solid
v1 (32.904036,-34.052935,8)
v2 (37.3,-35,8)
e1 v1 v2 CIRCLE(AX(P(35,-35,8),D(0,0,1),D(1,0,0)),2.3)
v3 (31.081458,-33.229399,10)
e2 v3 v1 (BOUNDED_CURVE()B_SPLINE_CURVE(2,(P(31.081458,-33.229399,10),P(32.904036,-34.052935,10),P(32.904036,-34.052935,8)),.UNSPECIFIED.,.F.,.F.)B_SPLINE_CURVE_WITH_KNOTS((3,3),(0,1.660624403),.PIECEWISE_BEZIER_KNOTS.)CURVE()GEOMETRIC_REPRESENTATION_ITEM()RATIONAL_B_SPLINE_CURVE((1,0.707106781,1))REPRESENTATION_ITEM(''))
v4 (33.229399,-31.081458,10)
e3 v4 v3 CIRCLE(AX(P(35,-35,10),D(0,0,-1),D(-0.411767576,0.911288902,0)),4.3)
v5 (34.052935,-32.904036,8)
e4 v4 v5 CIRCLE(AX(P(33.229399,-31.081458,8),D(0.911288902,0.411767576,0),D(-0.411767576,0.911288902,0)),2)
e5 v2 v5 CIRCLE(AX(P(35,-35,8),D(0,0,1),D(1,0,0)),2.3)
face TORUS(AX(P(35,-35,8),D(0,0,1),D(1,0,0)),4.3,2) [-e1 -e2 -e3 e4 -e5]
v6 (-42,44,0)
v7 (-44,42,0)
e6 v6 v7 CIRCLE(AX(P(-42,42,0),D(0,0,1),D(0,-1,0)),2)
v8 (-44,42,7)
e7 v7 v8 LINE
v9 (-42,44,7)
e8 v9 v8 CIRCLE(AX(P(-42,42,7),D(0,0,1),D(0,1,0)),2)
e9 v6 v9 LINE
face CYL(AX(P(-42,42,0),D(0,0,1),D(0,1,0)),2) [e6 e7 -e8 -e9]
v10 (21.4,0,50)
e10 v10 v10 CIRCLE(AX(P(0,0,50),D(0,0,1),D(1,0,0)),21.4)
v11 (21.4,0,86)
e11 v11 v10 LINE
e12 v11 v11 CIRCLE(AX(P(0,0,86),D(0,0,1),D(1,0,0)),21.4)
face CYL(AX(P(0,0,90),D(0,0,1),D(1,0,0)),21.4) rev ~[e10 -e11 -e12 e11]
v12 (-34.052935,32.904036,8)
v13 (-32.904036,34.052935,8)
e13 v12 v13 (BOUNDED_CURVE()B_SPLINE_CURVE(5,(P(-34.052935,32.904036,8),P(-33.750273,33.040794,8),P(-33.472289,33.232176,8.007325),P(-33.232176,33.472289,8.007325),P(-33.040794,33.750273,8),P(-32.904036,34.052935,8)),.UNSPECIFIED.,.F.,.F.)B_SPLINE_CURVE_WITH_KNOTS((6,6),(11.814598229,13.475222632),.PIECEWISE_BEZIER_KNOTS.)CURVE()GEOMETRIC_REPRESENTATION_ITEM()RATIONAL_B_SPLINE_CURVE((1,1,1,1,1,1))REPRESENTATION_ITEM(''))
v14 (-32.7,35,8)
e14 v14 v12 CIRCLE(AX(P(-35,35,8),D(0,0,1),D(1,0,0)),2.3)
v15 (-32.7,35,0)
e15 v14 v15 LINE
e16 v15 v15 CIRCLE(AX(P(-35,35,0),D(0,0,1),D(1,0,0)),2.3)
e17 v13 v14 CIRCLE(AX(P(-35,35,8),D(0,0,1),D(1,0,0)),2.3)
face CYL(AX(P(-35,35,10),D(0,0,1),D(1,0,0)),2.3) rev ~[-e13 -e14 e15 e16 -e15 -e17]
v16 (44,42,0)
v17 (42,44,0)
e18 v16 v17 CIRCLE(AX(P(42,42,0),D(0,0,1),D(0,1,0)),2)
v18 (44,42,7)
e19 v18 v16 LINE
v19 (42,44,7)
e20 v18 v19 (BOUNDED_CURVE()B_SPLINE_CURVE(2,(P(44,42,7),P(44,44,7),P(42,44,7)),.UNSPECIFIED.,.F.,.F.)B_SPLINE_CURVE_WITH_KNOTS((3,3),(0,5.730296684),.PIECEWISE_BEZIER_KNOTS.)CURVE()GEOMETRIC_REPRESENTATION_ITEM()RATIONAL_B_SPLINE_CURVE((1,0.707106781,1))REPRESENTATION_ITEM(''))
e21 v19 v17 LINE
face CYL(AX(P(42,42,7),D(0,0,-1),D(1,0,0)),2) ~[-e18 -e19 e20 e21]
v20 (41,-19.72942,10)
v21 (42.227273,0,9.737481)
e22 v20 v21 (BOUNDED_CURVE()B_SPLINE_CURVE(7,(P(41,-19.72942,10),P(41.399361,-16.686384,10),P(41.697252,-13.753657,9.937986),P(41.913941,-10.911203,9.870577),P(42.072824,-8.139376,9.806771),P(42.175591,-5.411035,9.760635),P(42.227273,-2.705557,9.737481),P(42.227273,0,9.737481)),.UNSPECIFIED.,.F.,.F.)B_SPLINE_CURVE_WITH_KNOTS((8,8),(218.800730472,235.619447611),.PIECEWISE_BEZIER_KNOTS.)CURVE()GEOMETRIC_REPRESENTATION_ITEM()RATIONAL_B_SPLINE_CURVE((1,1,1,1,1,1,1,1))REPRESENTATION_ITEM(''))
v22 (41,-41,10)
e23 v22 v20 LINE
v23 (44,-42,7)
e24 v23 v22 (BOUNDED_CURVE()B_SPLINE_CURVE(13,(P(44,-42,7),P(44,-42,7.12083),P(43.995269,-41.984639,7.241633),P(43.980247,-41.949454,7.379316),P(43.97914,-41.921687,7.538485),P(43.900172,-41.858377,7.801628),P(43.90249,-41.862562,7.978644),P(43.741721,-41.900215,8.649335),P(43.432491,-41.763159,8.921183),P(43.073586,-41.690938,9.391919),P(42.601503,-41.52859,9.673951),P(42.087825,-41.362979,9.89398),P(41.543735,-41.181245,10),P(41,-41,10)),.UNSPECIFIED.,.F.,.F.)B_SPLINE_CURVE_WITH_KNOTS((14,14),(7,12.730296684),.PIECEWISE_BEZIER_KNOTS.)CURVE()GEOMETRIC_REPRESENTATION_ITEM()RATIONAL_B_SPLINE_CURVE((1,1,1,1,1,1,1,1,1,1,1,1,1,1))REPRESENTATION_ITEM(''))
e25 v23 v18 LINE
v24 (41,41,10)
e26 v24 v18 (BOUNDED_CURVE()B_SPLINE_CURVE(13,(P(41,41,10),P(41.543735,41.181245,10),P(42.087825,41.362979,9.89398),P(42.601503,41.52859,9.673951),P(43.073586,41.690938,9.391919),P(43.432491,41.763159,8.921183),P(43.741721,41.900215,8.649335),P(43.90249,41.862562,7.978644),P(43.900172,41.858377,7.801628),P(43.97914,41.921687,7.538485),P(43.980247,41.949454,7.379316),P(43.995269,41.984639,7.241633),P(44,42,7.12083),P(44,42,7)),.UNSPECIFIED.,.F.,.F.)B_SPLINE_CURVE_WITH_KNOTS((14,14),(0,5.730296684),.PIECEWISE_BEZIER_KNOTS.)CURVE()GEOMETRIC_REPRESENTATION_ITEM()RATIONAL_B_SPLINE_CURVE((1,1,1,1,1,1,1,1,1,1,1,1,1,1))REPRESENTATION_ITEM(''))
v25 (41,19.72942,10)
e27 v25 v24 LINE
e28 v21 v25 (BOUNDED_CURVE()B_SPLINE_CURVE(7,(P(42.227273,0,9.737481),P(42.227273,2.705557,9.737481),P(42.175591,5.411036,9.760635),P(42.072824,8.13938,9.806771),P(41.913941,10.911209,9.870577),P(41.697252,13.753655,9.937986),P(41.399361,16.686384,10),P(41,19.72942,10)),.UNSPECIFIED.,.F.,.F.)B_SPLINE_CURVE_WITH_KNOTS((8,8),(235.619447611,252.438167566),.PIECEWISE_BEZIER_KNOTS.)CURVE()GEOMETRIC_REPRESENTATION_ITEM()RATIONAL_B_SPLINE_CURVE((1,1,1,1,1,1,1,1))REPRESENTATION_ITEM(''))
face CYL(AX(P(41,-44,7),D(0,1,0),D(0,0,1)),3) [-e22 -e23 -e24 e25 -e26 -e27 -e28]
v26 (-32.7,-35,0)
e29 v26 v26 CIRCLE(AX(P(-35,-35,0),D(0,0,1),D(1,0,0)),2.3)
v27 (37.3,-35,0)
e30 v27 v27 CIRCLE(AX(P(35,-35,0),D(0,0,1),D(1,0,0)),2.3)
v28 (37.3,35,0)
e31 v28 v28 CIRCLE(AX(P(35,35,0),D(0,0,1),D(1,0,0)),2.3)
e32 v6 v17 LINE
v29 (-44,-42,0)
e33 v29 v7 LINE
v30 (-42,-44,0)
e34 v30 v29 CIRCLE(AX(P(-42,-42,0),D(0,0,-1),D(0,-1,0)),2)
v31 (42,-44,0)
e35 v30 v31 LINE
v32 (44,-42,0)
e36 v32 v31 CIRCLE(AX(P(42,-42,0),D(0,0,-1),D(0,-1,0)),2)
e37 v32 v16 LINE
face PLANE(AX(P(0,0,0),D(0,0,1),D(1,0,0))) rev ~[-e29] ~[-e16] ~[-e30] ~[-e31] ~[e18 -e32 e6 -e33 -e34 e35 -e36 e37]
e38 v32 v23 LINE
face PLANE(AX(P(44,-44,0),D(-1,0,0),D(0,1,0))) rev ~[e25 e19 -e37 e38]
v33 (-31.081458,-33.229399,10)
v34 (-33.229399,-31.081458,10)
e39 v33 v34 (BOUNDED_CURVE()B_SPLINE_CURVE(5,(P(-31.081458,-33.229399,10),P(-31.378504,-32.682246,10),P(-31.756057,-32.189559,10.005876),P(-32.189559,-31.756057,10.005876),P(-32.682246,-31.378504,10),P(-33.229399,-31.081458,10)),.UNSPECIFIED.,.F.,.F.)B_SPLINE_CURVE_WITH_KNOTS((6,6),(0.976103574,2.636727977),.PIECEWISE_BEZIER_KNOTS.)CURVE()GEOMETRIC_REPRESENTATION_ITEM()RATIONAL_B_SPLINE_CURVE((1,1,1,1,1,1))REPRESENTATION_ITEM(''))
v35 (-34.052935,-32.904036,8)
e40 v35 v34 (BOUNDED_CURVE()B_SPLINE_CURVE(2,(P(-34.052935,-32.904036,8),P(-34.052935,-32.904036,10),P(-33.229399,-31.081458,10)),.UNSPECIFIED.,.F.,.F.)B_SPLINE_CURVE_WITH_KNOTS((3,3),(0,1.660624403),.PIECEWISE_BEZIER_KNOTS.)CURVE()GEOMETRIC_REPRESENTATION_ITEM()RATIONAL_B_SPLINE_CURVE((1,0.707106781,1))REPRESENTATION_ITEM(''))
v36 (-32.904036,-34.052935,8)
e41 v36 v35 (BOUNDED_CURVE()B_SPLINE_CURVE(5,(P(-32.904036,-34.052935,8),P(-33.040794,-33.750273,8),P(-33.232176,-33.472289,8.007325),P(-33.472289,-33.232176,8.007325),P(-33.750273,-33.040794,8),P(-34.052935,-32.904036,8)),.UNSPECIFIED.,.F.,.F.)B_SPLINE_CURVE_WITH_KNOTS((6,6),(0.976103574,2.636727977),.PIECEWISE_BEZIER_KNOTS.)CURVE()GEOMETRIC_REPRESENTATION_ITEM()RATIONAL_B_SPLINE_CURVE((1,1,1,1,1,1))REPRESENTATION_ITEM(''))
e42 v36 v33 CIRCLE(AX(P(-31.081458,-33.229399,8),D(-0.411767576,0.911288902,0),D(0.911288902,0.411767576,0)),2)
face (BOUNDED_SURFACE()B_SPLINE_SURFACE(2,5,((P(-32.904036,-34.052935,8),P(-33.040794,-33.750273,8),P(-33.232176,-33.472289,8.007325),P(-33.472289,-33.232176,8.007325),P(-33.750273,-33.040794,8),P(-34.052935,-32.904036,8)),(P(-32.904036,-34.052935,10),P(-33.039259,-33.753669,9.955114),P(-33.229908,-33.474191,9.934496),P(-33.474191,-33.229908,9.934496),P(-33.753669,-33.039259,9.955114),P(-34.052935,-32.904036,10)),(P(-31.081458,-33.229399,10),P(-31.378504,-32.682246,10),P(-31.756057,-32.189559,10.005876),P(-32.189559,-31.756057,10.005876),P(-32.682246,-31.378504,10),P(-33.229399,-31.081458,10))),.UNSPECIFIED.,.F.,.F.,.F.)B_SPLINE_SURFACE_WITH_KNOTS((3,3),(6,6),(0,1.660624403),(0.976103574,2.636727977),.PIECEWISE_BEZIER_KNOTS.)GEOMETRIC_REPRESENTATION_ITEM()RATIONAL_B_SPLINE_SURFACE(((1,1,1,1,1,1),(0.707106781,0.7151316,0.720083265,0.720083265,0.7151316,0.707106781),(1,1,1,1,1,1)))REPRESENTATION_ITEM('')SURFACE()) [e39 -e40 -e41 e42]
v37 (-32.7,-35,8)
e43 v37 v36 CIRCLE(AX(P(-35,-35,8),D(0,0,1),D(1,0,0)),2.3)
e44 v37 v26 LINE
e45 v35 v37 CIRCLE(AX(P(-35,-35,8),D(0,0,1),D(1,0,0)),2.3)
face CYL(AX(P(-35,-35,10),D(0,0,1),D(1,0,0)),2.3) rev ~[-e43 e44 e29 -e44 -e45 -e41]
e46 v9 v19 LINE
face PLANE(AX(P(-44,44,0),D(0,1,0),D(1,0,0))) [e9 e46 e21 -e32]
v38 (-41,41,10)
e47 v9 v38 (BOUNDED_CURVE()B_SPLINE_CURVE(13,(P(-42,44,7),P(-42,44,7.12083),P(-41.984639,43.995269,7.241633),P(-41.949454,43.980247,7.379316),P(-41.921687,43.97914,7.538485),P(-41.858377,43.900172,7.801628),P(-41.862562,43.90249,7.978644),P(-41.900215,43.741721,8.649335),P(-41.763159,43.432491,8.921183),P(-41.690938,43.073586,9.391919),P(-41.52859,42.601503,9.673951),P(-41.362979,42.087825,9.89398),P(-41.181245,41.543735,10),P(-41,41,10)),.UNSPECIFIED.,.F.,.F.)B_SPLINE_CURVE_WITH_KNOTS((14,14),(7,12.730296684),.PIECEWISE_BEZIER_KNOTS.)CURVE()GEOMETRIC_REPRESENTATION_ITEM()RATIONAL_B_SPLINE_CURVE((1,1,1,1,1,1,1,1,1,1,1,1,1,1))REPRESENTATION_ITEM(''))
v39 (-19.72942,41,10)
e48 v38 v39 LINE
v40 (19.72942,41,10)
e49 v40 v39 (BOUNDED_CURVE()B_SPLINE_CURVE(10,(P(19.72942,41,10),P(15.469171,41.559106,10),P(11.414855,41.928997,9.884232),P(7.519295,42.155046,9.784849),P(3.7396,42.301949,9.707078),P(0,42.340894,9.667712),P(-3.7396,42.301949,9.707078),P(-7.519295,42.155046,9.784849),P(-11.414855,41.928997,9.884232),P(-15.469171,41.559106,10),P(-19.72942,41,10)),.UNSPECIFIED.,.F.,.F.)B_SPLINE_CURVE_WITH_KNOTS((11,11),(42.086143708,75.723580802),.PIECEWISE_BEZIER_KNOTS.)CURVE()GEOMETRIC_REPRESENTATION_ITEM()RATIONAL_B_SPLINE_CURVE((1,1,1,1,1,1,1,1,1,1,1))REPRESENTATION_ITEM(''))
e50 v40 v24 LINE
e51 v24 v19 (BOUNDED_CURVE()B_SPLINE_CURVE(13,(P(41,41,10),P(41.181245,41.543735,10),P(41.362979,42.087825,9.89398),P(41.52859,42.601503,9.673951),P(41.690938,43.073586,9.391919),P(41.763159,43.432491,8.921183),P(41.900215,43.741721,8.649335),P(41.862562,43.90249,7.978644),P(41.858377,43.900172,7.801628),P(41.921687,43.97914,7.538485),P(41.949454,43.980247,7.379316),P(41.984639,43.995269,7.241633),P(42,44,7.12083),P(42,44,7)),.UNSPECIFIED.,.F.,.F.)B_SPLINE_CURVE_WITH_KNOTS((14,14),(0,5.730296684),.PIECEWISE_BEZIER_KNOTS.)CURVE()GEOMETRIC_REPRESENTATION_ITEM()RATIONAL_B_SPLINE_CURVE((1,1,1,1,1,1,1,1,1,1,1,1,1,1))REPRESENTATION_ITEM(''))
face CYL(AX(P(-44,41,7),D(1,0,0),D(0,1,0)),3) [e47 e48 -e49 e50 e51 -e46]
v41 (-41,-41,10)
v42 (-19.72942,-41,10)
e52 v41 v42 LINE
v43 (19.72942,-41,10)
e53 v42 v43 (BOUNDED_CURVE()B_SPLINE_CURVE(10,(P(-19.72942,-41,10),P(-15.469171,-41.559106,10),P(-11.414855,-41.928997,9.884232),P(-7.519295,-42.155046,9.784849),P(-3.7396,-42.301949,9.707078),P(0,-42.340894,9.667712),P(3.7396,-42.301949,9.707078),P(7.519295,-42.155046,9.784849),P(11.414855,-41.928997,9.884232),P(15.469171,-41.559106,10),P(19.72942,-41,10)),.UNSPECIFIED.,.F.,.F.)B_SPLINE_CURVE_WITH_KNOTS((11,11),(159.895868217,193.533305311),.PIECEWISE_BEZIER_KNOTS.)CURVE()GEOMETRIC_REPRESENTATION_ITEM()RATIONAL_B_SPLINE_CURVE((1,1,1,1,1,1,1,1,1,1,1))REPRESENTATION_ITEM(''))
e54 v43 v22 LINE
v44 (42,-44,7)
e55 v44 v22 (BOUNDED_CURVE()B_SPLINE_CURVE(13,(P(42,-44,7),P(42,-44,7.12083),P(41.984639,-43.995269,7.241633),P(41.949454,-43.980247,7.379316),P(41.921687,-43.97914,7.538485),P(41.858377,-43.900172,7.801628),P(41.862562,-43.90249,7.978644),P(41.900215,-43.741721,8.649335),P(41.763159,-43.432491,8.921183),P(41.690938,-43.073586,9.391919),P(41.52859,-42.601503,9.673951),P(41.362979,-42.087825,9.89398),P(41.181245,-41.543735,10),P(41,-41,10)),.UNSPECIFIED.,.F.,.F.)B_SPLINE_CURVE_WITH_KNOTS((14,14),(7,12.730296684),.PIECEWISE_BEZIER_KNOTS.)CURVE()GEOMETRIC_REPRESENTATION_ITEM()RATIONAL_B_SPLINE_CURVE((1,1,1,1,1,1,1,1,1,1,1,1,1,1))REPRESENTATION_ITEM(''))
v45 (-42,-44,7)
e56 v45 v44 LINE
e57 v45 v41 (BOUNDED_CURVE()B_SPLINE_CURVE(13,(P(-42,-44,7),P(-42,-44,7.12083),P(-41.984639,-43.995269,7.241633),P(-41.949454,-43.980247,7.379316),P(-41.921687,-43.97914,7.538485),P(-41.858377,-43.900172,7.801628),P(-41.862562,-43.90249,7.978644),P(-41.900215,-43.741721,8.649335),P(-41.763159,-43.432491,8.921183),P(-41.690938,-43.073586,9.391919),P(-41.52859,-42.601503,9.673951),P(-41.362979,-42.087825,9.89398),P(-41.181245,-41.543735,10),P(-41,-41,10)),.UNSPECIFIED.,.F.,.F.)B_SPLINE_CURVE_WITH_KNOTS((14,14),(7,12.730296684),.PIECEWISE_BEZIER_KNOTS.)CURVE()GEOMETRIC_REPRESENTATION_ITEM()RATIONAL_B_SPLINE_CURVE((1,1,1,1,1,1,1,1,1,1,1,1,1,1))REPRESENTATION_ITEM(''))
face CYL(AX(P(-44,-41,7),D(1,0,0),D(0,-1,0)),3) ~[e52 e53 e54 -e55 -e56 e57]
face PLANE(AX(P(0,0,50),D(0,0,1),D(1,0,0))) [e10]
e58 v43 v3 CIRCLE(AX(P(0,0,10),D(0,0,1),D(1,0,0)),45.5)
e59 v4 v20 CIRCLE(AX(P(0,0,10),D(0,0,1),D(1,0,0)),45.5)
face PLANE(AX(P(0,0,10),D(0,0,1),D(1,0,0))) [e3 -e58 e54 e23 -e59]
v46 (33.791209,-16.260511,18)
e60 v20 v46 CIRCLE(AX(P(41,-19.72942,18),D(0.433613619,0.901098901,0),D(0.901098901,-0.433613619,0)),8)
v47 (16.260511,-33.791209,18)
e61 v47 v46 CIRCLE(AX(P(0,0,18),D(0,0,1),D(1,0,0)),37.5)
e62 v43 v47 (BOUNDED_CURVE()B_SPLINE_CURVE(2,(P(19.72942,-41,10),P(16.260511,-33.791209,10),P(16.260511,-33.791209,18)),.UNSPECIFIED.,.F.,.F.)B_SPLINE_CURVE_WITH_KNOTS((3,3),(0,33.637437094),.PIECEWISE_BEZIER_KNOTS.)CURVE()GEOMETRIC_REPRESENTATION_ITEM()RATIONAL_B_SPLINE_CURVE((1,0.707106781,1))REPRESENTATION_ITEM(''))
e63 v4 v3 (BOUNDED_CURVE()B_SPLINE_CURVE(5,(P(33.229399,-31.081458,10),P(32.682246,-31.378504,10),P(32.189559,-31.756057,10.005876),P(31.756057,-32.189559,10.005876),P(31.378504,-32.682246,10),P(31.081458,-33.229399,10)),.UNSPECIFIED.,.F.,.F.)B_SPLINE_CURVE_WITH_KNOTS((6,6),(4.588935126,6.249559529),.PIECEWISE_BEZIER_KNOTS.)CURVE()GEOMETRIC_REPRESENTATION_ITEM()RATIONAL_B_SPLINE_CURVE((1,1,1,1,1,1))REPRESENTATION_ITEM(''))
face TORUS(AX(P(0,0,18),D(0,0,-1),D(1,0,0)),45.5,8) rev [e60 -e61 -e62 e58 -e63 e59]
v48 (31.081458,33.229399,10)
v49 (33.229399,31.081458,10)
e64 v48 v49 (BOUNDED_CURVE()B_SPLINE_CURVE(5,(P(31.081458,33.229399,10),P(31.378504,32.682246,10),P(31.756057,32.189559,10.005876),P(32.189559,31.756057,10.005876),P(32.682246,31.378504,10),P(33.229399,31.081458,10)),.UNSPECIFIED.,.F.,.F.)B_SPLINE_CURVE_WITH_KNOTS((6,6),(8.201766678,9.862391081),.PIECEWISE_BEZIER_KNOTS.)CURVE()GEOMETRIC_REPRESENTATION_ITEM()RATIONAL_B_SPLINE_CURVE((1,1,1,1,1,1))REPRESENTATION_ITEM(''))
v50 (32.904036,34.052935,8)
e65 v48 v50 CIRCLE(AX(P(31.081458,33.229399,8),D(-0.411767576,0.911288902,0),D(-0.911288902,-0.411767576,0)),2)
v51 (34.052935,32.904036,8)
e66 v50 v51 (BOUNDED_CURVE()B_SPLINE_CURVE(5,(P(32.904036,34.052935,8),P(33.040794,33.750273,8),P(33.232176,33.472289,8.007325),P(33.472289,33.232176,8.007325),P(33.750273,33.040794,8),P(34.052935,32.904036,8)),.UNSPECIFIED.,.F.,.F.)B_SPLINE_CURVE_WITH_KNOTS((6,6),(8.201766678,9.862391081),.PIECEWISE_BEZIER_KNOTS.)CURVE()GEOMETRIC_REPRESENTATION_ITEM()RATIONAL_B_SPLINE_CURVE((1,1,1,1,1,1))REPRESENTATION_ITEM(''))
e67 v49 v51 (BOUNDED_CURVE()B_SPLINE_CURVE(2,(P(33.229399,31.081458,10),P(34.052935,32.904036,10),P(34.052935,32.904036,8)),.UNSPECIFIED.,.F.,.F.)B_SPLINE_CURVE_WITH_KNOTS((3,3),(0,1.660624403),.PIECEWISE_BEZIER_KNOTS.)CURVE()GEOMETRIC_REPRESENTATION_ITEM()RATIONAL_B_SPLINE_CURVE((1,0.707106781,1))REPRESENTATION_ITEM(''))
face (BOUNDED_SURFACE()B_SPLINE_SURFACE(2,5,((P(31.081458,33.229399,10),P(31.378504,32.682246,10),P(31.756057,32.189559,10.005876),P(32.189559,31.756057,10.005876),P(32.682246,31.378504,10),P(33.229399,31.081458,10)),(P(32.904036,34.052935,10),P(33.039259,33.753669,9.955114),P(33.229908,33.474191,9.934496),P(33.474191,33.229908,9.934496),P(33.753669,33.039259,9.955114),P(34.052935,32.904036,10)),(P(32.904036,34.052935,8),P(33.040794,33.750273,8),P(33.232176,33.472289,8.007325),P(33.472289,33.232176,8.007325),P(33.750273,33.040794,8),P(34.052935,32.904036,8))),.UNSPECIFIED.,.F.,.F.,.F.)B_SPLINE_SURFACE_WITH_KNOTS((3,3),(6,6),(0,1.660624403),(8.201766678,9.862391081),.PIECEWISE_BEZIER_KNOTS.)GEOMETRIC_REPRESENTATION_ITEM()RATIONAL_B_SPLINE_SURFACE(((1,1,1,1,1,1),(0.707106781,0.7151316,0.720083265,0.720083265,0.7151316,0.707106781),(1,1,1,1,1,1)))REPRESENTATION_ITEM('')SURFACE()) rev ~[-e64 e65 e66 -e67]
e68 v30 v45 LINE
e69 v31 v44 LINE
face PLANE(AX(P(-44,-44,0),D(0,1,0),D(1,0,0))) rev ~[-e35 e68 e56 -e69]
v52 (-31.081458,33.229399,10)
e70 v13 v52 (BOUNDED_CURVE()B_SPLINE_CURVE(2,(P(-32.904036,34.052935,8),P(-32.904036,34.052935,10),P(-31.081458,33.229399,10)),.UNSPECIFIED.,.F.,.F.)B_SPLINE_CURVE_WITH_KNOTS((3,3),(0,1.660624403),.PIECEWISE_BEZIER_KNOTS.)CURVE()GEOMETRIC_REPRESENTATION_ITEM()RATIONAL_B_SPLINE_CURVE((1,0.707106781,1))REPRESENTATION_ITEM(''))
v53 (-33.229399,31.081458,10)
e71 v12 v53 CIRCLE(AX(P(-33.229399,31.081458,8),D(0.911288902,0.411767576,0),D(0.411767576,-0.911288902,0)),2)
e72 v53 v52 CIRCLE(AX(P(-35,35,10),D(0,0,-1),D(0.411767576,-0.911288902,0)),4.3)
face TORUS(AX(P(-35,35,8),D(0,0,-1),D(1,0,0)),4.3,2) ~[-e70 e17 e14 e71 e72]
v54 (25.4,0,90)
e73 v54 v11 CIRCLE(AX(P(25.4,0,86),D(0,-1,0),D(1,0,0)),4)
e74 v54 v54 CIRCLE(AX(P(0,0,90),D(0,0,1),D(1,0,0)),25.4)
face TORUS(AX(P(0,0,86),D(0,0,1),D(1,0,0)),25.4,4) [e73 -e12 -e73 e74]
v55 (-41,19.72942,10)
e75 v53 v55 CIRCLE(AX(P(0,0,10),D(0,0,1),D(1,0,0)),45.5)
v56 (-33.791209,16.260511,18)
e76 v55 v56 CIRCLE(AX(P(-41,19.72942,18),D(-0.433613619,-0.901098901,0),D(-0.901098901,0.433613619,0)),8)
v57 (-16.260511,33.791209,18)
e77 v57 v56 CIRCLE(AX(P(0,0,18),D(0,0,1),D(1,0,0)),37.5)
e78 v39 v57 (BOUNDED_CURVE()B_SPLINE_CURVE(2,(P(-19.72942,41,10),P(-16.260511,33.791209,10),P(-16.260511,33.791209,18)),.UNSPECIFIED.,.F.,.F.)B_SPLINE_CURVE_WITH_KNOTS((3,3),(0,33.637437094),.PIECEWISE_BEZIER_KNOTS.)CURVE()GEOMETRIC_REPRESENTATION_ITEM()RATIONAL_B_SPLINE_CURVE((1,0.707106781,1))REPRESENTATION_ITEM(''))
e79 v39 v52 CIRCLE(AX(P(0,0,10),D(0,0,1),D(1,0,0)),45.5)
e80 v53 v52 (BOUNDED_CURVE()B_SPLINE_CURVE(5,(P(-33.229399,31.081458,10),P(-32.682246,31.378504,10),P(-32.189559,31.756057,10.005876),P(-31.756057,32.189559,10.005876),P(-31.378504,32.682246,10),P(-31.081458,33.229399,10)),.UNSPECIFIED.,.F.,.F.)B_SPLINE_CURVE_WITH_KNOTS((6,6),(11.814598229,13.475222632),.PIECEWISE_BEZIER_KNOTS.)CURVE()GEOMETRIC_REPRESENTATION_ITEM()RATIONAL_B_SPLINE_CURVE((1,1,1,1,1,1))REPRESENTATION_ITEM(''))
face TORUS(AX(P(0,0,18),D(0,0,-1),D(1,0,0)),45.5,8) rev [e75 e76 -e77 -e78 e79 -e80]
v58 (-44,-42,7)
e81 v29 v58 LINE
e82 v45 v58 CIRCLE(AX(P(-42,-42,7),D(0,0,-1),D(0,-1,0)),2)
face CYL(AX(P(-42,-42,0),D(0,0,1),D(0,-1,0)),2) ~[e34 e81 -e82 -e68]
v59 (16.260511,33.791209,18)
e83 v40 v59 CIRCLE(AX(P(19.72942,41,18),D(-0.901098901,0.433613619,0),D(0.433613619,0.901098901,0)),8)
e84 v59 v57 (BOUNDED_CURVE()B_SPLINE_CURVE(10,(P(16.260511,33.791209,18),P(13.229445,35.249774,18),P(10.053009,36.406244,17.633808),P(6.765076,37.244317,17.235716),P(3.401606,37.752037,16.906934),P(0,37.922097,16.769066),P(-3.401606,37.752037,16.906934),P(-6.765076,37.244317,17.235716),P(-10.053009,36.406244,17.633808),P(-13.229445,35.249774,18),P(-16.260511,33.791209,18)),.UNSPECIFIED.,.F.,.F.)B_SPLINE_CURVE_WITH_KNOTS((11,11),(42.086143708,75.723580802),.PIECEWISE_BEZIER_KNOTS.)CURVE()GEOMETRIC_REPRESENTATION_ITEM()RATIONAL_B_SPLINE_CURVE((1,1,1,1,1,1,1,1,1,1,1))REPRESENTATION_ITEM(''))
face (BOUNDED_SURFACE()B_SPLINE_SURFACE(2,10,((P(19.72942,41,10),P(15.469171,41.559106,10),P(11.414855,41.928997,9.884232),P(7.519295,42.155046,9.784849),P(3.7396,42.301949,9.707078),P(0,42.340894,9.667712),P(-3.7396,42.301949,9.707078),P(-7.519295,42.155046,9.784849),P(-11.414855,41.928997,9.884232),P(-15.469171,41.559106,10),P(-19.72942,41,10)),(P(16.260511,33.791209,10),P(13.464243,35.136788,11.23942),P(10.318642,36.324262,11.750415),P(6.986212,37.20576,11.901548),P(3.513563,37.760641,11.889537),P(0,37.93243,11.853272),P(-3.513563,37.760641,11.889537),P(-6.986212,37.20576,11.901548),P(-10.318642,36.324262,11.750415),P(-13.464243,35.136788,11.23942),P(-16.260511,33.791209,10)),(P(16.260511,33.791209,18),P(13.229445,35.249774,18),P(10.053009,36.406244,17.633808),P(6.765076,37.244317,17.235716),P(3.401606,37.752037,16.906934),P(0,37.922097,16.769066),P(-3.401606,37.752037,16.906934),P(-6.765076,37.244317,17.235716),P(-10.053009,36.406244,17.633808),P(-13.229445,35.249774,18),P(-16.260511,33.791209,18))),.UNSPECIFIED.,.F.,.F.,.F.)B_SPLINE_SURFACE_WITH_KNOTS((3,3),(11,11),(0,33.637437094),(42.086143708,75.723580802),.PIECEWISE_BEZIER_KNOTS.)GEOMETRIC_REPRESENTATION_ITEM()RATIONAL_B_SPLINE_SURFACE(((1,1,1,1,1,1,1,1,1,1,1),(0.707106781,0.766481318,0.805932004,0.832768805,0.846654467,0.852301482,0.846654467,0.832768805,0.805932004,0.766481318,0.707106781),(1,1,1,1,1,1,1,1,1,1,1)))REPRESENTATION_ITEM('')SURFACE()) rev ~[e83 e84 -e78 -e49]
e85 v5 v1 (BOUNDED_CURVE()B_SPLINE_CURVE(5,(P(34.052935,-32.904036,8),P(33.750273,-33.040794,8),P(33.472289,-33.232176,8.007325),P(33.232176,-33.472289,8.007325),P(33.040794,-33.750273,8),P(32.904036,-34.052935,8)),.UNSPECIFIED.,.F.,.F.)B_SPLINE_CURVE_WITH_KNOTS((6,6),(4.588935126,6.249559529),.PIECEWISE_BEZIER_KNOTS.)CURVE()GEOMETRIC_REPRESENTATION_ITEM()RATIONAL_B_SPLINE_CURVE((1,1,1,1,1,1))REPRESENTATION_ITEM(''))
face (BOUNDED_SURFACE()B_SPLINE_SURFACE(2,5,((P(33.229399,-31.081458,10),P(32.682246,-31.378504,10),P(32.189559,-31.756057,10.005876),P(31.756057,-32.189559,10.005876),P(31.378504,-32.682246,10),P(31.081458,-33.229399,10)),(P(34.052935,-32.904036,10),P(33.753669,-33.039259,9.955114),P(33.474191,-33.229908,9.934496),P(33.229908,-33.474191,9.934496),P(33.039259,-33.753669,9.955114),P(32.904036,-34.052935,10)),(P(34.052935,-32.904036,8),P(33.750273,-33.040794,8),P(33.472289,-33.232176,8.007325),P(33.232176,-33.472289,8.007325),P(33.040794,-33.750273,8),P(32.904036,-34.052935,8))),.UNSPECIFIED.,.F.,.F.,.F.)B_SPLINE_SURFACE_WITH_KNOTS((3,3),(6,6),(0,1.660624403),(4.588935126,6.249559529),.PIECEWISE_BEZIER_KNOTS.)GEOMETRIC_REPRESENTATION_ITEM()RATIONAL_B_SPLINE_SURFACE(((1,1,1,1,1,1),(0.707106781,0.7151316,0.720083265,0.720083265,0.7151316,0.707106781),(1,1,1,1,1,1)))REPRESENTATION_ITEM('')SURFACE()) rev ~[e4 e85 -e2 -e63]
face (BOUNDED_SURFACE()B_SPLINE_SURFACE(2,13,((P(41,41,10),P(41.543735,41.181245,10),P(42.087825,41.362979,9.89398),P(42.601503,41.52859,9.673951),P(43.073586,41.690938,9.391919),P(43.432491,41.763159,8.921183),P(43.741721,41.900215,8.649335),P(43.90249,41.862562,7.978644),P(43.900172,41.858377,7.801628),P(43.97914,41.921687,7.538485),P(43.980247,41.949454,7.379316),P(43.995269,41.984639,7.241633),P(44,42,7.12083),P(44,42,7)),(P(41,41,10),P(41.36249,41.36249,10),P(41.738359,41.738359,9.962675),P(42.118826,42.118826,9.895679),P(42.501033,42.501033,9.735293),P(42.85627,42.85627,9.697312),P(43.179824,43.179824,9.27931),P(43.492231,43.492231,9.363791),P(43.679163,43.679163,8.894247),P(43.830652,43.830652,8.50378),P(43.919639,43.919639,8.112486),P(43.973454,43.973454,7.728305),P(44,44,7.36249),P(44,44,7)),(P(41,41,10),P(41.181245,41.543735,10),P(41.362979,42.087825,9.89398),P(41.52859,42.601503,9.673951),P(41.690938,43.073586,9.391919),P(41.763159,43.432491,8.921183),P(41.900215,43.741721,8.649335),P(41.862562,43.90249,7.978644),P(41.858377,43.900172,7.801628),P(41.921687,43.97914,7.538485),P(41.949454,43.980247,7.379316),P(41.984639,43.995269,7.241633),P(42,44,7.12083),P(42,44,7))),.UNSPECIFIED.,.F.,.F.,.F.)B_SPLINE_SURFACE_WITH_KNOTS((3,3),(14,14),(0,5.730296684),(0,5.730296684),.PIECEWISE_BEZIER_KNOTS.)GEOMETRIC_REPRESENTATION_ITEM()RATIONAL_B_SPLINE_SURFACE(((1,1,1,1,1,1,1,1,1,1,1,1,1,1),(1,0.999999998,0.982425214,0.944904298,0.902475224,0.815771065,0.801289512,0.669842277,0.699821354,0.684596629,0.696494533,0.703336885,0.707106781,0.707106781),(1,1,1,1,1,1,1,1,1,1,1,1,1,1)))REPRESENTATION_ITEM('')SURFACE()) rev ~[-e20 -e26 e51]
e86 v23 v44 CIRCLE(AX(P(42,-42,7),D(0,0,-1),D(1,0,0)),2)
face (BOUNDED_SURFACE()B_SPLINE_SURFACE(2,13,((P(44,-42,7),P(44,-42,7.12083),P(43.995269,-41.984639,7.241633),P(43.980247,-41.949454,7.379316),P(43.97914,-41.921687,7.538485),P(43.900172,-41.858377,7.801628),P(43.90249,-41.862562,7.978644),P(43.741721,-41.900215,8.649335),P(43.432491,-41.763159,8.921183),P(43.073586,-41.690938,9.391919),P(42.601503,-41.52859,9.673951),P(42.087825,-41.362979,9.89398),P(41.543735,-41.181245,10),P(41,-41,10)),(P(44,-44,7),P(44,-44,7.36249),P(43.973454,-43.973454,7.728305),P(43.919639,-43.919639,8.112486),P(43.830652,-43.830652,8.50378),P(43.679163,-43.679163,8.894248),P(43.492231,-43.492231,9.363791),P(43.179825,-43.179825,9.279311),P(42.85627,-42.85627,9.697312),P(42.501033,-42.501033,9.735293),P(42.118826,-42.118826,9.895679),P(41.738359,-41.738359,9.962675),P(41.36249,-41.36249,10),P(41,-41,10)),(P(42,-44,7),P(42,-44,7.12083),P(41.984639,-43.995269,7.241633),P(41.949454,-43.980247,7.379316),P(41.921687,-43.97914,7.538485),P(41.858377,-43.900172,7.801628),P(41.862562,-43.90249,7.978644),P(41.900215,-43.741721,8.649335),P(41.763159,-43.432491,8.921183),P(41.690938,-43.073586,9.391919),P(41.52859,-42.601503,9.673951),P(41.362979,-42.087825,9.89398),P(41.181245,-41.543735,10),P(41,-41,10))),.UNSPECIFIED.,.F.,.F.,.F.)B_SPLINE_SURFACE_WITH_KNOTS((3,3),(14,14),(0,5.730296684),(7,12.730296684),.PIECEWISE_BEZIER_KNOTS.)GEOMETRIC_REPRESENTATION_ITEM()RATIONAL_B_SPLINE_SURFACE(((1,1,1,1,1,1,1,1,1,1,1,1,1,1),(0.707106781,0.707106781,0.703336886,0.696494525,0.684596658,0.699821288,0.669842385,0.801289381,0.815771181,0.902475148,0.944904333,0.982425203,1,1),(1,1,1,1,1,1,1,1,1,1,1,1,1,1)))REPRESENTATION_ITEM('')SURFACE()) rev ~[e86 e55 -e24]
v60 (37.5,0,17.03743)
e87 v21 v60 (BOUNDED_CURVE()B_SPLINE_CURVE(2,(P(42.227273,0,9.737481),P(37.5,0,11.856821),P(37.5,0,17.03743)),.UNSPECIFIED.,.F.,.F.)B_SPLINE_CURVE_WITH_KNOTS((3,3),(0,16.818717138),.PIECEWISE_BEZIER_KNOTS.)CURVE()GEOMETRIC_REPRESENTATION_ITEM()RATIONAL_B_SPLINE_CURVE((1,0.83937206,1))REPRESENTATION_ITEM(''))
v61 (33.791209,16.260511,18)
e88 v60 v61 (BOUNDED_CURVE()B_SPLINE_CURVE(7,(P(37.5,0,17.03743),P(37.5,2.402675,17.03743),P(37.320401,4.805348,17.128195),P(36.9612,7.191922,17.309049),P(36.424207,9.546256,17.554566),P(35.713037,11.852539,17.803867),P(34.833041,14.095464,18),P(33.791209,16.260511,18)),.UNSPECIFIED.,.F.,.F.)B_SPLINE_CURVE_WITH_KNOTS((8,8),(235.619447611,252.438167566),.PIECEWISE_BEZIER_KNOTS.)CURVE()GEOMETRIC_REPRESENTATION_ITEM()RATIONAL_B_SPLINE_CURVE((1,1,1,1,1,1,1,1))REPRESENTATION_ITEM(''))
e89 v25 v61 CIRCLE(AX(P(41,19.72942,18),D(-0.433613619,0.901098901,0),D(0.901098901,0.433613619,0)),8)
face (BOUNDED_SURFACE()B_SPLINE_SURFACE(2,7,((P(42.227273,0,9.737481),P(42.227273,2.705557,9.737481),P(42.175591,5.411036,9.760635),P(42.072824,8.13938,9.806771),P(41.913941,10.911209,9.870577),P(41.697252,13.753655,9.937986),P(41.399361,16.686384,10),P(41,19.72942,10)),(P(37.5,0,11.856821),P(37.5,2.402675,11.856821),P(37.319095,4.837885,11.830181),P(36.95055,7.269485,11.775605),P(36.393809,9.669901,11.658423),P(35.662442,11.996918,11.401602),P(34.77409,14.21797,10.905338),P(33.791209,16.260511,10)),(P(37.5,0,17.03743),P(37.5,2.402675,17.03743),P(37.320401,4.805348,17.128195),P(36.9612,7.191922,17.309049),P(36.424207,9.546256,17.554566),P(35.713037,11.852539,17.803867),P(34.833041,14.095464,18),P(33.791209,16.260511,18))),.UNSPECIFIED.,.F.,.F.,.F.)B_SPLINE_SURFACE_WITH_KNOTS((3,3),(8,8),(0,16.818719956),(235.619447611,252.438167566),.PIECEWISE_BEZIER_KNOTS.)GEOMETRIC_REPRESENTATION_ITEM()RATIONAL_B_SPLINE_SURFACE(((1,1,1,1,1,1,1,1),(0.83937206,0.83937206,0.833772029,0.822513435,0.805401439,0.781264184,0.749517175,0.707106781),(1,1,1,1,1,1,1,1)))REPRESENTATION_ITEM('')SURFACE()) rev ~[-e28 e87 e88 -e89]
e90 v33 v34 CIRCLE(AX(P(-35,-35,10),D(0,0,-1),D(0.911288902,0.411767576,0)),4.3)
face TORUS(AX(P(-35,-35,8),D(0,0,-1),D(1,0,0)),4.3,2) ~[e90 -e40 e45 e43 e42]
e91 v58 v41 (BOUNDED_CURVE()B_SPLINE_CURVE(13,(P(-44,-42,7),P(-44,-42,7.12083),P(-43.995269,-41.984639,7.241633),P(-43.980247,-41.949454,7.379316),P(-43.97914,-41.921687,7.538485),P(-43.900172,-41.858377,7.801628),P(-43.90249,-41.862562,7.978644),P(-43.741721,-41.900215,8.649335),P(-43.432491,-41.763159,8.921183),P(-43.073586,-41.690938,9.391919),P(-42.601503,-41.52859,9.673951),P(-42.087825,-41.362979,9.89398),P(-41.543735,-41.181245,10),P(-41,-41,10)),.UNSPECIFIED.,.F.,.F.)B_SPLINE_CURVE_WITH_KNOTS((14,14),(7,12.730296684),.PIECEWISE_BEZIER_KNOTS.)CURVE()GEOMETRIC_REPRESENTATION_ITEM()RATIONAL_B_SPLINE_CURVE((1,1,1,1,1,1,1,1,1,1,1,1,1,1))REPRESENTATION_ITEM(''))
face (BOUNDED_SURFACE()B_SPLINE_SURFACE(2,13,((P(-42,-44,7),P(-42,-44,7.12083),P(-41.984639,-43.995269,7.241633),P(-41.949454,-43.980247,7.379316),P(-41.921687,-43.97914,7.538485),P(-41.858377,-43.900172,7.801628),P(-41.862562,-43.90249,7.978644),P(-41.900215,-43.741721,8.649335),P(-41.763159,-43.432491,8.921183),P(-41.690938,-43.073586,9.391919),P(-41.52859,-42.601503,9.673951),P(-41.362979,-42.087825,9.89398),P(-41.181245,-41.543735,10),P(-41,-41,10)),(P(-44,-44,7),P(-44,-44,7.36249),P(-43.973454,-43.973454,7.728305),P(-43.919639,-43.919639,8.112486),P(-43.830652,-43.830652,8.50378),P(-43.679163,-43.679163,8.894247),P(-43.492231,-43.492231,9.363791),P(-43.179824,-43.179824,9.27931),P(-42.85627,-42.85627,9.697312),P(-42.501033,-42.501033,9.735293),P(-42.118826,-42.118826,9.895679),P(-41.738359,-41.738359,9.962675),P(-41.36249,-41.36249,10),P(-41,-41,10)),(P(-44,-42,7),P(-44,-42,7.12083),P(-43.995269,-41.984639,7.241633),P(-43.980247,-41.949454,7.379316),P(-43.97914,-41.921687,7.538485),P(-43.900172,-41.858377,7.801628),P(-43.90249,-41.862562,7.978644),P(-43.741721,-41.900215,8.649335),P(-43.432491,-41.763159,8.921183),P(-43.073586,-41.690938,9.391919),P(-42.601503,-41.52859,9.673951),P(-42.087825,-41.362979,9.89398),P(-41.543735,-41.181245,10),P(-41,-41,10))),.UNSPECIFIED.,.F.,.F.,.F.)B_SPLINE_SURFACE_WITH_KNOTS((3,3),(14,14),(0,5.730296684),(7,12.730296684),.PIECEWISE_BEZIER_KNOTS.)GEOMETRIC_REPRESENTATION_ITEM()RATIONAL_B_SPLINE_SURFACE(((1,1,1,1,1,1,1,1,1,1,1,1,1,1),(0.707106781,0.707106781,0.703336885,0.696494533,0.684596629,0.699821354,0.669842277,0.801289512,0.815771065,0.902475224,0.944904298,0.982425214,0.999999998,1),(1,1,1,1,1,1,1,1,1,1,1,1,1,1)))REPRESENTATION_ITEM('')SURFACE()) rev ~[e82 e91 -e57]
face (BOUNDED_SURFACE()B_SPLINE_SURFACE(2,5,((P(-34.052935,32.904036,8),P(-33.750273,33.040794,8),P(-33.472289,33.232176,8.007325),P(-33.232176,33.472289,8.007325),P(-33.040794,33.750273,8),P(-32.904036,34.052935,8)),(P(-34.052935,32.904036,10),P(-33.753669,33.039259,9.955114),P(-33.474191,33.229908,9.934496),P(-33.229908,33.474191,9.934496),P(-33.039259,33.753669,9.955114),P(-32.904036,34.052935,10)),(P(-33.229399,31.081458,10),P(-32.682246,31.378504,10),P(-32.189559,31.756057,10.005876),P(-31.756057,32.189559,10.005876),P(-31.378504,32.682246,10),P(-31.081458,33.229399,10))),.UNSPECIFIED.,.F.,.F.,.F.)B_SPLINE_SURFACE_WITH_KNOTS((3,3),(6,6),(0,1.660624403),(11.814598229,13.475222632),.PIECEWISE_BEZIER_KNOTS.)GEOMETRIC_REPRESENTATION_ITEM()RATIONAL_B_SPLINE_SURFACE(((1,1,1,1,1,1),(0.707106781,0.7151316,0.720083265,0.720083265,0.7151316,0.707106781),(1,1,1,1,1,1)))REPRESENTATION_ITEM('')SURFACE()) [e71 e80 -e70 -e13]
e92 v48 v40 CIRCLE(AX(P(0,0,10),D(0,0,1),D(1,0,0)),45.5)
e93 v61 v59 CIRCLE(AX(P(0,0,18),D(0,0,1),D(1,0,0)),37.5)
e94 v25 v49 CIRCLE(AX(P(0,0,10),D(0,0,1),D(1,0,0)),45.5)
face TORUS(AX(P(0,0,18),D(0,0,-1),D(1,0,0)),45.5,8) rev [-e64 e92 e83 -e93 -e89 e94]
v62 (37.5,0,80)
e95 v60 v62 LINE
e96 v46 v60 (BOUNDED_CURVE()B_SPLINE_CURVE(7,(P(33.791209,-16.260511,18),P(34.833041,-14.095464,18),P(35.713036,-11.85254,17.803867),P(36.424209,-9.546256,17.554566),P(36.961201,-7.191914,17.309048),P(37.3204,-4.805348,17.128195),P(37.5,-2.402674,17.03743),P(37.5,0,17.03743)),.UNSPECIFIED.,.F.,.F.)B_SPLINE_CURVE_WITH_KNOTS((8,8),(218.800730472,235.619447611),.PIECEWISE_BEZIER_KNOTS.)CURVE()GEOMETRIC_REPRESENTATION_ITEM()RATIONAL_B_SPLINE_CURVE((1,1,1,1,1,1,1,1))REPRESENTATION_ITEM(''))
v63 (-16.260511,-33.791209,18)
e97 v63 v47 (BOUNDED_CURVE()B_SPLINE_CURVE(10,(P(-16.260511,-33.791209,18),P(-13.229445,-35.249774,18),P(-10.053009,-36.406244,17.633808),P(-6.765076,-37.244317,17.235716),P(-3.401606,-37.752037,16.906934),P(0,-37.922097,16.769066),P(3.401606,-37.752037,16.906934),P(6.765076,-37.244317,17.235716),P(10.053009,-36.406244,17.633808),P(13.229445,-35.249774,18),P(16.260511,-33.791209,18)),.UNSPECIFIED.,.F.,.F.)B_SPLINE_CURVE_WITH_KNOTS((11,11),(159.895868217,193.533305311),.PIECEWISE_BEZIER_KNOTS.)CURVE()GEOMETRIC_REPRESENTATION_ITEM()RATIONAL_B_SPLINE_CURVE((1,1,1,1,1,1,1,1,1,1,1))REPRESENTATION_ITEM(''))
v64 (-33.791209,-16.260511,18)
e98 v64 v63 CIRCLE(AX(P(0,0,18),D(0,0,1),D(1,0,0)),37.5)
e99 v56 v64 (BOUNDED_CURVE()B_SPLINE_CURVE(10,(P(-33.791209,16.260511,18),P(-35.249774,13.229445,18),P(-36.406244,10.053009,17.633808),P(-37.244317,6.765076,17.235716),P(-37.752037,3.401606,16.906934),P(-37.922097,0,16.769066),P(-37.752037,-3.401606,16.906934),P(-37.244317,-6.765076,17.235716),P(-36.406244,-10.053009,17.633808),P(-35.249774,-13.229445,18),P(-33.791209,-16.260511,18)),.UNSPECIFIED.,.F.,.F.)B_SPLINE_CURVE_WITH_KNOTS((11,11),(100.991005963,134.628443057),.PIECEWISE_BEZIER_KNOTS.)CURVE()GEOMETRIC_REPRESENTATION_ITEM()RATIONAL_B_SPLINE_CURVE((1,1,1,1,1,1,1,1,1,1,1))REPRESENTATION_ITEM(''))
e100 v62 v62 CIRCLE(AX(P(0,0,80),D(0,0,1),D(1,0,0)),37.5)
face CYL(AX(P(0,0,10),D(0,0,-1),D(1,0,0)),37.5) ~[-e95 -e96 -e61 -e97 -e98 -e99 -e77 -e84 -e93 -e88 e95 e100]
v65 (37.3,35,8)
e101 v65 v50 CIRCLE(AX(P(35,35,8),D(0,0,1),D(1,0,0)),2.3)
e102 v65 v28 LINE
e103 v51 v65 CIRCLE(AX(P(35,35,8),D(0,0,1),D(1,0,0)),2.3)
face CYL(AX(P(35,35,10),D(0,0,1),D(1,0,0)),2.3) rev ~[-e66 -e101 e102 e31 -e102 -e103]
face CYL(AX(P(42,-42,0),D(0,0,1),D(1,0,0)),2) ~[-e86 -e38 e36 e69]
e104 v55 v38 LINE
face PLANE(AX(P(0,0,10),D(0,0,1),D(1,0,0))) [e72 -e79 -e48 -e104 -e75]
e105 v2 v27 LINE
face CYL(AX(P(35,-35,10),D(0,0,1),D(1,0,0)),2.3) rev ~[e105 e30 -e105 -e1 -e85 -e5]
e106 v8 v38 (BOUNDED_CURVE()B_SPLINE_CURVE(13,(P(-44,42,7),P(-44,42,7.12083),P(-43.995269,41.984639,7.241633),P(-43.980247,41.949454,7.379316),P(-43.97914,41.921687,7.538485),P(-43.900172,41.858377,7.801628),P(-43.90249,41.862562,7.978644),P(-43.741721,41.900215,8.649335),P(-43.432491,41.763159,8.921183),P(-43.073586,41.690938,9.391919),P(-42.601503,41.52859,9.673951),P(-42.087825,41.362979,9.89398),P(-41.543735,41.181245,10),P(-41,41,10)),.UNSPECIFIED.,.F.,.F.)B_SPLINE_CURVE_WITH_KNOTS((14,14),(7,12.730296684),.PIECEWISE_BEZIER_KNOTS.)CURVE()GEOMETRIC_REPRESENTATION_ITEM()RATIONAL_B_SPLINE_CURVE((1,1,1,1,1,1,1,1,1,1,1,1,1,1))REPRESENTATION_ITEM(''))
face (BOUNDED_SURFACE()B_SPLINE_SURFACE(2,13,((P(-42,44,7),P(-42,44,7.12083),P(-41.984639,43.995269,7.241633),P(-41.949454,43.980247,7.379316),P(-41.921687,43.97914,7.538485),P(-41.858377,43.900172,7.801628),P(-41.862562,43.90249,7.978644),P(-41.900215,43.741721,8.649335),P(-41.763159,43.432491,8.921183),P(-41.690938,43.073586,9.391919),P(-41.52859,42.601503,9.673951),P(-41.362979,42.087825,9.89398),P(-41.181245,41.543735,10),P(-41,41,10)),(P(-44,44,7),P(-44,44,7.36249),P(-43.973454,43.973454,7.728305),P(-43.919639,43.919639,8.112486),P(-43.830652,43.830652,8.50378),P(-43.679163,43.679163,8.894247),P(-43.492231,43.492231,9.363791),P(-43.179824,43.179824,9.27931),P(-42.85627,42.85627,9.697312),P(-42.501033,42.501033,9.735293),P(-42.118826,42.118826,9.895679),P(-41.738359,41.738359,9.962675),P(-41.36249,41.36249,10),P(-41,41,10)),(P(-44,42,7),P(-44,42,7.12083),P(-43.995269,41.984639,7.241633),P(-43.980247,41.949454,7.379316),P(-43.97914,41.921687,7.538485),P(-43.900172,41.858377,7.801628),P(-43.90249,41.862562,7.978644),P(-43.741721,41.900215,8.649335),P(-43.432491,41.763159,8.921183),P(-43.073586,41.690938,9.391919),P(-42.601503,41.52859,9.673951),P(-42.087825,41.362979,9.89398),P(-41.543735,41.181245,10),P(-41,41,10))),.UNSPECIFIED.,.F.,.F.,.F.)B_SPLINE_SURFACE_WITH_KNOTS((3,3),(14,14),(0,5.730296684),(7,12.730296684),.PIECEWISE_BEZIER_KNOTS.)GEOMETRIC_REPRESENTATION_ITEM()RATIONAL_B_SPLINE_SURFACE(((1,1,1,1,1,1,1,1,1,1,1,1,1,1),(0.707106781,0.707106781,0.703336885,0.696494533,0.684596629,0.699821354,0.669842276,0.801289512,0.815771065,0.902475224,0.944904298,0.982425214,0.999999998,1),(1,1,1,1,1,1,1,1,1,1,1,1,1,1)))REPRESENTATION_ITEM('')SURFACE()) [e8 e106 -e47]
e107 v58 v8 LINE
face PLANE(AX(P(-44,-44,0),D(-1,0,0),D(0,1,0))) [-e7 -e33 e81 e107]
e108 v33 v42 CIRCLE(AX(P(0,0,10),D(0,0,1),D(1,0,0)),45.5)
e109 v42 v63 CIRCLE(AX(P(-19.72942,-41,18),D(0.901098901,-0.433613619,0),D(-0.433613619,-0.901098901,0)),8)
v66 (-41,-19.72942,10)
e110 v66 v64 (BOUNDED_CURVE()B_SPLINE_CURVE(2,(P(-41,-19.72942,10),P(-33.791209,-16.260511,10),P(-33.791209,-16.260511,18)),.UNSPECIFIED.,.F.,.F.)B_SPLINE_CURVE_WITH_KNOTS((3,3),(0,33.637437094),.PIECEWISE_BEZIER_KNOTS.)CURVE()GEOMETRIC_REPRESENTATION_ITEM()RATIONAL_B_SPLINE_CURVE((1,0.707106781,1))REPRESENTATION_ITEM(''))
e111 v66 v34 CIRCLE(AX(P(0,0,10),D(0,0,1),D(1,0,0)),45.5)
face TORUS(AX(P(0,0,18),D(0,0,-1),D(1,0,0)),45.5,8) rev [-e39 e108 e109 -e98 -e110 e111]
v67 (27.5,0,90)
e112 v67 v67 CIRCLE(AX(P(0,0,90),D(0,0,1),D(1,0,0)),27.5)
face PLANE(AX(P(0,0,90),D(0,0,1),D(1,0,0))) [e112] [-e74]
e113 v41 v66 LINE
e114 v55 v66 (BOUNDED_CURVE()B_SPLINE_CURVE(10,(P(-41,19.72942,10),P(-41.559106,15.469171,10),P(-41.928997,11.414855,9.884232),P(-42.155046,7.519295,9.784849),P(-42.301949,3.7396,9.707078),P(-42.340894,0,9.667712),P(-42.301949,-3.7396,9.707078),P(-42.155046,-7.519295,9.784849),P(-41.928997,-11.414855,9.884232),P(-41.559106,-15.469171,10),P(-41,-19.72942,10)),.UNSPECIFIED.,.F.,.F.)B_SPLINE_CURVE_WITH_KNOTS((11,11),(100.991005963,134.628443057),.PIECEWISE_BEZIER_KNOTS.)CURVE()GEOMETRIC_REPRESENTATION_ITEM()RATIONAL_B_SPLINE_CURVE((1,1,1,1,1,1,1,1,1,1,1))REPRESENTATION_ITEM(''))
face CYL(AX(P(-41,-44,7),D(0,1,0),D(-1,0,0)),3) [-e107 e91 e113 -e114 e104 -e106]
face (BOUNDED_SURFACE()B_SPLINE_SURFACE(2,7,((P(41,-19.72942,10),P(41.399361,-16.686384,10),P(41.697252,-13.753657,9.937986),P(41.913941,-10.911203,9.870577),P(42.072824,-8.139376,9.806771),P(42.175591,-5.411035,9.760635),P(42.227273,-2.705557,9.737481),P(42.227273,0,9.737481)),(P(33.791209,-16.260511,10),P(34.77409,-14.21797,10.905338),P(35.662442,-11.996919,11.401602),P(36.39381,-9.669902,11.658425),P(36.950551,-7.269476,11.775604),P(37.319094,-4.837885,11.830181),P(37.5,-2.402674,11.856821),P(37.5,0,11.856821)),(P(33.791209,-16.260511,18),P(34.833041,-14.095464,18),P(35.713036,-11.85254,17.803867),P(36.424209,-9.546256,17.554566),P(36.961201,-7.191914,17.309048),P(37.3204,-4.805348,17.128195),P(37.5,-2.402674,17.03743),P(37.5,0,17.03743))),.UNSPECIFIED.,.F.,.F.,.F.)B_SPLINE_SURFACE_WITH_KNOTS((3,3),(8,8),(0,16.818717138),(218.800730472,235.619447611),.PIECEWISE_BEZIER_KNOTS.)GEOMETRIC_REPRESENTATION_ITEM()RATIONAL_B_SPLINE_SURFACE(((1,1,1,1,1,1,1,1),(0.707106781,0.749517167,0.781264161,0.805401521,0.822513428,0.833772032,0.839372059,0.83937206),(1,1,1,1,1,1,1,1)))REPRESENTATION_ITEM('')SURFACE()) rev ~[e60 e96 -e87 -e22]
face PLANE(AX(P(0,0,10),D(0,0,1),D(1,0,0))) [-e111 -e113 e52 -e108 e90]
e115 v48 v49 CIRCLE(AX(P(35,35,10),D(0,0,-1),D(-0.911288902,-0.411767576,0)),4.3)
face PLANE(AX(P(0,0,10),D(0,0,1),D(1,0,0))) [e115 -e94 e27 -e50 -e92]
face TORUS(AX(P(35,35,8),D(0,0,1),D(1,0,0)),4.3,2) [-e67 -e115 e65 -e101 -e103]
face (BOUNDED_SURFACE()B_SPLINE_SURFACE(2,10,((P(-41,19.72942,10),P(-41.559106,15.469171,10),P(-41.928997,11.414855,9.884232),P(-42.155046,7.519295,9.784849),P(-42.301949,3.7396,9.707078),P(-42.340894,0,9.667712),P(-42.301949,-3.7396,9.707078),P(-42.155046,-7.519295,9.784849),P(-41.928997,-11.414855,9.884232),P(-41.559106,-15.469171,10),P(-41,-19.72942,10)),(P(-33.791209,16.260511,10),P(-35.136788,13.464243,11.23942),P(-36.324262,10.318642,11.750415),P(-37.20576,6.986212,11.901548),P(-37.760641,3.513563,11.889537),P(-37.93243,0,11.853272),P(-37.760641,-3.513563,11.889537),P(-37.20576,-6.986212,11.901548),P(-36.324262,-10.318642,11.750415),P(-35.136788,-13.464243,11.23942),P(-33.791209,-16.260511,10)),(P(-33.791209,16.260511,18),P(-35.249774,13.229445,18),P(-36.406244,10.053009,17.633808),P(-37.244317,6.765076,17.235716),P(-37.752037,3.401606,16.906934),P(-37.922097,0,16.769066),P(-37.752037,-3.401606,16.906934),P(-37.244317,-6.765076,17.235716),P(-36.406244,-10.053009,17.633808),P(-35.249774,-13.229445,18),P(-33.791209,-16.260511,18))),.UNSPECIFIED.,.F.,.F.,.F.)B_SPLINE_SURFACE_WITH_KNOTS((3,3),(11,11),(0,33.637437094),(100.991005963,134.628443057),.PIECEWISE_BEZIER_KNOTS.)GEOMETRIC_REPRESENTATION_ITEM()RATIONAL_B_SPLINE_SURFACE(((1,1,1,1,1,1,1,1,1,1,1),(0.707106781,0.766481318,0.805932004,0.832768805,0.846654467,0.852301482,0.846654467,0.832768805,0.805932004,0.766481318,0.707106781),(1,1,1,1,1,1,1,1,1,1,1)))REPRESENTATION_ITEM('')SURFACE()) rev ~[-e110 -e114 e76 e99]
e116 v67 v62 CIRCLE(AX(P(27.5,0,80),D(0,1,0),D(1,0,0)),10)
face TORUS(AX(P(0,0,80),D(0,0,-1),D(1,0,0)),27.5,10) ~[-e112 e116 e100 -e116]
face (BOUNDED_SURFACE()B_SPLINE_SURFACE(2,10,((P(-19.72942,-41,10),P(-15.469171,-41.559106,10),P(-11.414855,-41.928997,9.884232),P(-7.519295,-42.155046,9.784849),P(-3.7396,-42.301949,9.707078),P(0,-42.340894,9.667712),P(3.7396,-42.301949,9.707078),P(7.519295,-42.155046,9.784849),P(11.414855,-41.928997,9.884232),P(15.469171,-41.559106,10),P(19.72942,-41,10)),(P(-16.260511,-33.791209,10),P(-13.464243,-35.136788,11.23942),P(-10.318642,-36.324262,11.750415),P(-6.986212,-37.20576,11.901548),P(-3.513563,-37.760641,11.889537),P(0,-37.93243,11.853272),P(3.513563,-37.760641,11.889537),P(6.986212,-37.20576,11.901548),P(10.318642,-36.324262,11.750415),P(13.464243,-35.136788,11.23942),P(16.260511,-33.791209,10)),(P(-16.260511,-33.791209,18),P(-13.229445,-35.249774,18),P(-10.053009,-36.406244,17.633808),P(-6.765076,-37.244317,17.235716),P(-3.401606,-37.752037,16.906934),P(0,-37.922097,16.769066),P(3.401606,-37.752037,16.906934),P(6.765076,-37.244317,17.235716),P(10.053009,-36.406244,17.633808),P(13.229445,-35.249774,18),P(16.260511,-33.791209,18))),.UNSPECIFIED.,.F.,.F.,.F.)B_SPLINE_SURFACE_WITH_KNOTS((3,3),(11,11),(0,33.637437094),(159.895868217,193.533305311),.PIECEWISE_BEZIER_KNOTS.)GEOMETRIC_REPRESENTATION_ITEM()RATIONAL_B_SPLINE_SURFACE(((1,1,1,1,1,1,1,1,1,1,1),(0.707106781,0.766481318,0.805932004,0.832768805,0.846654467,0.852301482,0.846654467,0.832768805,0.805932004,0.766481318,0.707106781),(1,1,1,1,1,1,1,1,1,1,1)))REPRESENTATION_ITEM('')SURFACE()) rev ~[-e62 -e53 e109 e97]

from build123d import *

# Parameters (mm, degrees)
SKETCH_W        = 88
SKETCH_H        = 88
PAD_DEPTH       = 10
SKETCH001_R     = 37.5
PAD001_DEPTH    = 80
SKETCH002_R     = 21.4
POCKET_DEPTH    = 40
SKETCH003_R     = 2.3
POCKET001_DEPTH = 10.001
FILLET_R        = 3
FILLET001_R     = 8
FILLET002_R     = 4
FILLET003_R     = 10
FILLET004_R     = 2
FILLET005_R     = 2


with BuildPart() as part:
    # Sketch → Pad (new body)
    with BuildSketch(Plane.XY):
        Rectangle(SKETCH_W, SKETCH_H)
    extrude(amount=PAD_DEPTH)

    # Sketch001 (on Face6 of Pad) → Pad001 (join)
    with BuildSketch(Plane.XY.offset(10)):
        Circle(SKETCH001_R)
    extrude(amount=PAD001_DEPTH)

    # Sketch002 (on Face8 of Pad001) → Pocket (cut)
    with BuildSketch(Plane.XY.offset(90)):
        Circle(SKETCH002_R)
    extrude(amount=-POCKET_DEPTH, mode=Mode.SUBTRACT)

    # Sketch003 (on Face5 of Pocket) → Pocket001 (cut, through all)
    with BuildSketch(Plane.XY.offset(10)):
        with Locations((-35, 35)):
            Circle(SKETCH003_R)
        with Locations((35, 35)):
            Circle(SKETCH003_R)
        with Locations((35, -35)):
            Circle(SKETCH003_R)
        with Locations((-35, -35)):
            Circle(SKETCH003_R)
    extrude(amount=-POCKET001_DEPTH, mode=Mode.SUBTRACT)

    # Fillet
    fillet_edges = [part.edges().sort_by_distance(p)[0] for p in [
        (44, 0, 10),
        (0, -44, 10),
        (-44, 0, 10),
        (0, 44, 10),
    ]]
    fillet(fillet_edges, radius=FILLET_R)

    # Fillet001
    fillet001_edges = [part.edges().sort_by_distance(p)[0] for p in [
        (-37.5, 0, 10),
    ]]
    fillet(fillet001_edges, radius=FILLET001_R)

    # Fillet002
    fillet002_edges = [part.edges().sort_by_distance(p)[0] for p in [
        (-21.4, 0, 90),
    ]]
    fillet(fillet002_edges, radius=FILLET002_R)

    # Fillet003
    fillet003_edges = [part.edges().sort_by_distance(p)[0] for p in [
        (-37.5, 0, 90),
    ]]
    fillet(fillet003_edges, radius=FILLET003_R)

    # Fillet004
    fillet004_edges = [part.edges().sort_by_distance(p)[0] for p in [
        (42.938147, 42.938147, 9.289888),
        (44, 44, 3.5),
        (44, -44, 3.5),
        (42.938147, -42.938147, 9.289888),
        (-44, 44, 3.5),
        (-42.938147, 42.938147, 9.289888),
        (-42.938147, -42.938147, 9.289888),
        (-44, -44, 3.5),
    ]]
    fillet(fillet004_edges, radius=FILLET004_R)

    # Fillet005
    fillet005_edges = [part.edges().sort_by_distance(p)[0] for p in [
        (32.7, -35, 10),
        (32.7, 35, 10),
        (-37.3, 35, 10),
        (-37.3, -35, 10),
    ]]
    fillet(fillet005_edges, radius=FILLET005_R)


solid = part.part
